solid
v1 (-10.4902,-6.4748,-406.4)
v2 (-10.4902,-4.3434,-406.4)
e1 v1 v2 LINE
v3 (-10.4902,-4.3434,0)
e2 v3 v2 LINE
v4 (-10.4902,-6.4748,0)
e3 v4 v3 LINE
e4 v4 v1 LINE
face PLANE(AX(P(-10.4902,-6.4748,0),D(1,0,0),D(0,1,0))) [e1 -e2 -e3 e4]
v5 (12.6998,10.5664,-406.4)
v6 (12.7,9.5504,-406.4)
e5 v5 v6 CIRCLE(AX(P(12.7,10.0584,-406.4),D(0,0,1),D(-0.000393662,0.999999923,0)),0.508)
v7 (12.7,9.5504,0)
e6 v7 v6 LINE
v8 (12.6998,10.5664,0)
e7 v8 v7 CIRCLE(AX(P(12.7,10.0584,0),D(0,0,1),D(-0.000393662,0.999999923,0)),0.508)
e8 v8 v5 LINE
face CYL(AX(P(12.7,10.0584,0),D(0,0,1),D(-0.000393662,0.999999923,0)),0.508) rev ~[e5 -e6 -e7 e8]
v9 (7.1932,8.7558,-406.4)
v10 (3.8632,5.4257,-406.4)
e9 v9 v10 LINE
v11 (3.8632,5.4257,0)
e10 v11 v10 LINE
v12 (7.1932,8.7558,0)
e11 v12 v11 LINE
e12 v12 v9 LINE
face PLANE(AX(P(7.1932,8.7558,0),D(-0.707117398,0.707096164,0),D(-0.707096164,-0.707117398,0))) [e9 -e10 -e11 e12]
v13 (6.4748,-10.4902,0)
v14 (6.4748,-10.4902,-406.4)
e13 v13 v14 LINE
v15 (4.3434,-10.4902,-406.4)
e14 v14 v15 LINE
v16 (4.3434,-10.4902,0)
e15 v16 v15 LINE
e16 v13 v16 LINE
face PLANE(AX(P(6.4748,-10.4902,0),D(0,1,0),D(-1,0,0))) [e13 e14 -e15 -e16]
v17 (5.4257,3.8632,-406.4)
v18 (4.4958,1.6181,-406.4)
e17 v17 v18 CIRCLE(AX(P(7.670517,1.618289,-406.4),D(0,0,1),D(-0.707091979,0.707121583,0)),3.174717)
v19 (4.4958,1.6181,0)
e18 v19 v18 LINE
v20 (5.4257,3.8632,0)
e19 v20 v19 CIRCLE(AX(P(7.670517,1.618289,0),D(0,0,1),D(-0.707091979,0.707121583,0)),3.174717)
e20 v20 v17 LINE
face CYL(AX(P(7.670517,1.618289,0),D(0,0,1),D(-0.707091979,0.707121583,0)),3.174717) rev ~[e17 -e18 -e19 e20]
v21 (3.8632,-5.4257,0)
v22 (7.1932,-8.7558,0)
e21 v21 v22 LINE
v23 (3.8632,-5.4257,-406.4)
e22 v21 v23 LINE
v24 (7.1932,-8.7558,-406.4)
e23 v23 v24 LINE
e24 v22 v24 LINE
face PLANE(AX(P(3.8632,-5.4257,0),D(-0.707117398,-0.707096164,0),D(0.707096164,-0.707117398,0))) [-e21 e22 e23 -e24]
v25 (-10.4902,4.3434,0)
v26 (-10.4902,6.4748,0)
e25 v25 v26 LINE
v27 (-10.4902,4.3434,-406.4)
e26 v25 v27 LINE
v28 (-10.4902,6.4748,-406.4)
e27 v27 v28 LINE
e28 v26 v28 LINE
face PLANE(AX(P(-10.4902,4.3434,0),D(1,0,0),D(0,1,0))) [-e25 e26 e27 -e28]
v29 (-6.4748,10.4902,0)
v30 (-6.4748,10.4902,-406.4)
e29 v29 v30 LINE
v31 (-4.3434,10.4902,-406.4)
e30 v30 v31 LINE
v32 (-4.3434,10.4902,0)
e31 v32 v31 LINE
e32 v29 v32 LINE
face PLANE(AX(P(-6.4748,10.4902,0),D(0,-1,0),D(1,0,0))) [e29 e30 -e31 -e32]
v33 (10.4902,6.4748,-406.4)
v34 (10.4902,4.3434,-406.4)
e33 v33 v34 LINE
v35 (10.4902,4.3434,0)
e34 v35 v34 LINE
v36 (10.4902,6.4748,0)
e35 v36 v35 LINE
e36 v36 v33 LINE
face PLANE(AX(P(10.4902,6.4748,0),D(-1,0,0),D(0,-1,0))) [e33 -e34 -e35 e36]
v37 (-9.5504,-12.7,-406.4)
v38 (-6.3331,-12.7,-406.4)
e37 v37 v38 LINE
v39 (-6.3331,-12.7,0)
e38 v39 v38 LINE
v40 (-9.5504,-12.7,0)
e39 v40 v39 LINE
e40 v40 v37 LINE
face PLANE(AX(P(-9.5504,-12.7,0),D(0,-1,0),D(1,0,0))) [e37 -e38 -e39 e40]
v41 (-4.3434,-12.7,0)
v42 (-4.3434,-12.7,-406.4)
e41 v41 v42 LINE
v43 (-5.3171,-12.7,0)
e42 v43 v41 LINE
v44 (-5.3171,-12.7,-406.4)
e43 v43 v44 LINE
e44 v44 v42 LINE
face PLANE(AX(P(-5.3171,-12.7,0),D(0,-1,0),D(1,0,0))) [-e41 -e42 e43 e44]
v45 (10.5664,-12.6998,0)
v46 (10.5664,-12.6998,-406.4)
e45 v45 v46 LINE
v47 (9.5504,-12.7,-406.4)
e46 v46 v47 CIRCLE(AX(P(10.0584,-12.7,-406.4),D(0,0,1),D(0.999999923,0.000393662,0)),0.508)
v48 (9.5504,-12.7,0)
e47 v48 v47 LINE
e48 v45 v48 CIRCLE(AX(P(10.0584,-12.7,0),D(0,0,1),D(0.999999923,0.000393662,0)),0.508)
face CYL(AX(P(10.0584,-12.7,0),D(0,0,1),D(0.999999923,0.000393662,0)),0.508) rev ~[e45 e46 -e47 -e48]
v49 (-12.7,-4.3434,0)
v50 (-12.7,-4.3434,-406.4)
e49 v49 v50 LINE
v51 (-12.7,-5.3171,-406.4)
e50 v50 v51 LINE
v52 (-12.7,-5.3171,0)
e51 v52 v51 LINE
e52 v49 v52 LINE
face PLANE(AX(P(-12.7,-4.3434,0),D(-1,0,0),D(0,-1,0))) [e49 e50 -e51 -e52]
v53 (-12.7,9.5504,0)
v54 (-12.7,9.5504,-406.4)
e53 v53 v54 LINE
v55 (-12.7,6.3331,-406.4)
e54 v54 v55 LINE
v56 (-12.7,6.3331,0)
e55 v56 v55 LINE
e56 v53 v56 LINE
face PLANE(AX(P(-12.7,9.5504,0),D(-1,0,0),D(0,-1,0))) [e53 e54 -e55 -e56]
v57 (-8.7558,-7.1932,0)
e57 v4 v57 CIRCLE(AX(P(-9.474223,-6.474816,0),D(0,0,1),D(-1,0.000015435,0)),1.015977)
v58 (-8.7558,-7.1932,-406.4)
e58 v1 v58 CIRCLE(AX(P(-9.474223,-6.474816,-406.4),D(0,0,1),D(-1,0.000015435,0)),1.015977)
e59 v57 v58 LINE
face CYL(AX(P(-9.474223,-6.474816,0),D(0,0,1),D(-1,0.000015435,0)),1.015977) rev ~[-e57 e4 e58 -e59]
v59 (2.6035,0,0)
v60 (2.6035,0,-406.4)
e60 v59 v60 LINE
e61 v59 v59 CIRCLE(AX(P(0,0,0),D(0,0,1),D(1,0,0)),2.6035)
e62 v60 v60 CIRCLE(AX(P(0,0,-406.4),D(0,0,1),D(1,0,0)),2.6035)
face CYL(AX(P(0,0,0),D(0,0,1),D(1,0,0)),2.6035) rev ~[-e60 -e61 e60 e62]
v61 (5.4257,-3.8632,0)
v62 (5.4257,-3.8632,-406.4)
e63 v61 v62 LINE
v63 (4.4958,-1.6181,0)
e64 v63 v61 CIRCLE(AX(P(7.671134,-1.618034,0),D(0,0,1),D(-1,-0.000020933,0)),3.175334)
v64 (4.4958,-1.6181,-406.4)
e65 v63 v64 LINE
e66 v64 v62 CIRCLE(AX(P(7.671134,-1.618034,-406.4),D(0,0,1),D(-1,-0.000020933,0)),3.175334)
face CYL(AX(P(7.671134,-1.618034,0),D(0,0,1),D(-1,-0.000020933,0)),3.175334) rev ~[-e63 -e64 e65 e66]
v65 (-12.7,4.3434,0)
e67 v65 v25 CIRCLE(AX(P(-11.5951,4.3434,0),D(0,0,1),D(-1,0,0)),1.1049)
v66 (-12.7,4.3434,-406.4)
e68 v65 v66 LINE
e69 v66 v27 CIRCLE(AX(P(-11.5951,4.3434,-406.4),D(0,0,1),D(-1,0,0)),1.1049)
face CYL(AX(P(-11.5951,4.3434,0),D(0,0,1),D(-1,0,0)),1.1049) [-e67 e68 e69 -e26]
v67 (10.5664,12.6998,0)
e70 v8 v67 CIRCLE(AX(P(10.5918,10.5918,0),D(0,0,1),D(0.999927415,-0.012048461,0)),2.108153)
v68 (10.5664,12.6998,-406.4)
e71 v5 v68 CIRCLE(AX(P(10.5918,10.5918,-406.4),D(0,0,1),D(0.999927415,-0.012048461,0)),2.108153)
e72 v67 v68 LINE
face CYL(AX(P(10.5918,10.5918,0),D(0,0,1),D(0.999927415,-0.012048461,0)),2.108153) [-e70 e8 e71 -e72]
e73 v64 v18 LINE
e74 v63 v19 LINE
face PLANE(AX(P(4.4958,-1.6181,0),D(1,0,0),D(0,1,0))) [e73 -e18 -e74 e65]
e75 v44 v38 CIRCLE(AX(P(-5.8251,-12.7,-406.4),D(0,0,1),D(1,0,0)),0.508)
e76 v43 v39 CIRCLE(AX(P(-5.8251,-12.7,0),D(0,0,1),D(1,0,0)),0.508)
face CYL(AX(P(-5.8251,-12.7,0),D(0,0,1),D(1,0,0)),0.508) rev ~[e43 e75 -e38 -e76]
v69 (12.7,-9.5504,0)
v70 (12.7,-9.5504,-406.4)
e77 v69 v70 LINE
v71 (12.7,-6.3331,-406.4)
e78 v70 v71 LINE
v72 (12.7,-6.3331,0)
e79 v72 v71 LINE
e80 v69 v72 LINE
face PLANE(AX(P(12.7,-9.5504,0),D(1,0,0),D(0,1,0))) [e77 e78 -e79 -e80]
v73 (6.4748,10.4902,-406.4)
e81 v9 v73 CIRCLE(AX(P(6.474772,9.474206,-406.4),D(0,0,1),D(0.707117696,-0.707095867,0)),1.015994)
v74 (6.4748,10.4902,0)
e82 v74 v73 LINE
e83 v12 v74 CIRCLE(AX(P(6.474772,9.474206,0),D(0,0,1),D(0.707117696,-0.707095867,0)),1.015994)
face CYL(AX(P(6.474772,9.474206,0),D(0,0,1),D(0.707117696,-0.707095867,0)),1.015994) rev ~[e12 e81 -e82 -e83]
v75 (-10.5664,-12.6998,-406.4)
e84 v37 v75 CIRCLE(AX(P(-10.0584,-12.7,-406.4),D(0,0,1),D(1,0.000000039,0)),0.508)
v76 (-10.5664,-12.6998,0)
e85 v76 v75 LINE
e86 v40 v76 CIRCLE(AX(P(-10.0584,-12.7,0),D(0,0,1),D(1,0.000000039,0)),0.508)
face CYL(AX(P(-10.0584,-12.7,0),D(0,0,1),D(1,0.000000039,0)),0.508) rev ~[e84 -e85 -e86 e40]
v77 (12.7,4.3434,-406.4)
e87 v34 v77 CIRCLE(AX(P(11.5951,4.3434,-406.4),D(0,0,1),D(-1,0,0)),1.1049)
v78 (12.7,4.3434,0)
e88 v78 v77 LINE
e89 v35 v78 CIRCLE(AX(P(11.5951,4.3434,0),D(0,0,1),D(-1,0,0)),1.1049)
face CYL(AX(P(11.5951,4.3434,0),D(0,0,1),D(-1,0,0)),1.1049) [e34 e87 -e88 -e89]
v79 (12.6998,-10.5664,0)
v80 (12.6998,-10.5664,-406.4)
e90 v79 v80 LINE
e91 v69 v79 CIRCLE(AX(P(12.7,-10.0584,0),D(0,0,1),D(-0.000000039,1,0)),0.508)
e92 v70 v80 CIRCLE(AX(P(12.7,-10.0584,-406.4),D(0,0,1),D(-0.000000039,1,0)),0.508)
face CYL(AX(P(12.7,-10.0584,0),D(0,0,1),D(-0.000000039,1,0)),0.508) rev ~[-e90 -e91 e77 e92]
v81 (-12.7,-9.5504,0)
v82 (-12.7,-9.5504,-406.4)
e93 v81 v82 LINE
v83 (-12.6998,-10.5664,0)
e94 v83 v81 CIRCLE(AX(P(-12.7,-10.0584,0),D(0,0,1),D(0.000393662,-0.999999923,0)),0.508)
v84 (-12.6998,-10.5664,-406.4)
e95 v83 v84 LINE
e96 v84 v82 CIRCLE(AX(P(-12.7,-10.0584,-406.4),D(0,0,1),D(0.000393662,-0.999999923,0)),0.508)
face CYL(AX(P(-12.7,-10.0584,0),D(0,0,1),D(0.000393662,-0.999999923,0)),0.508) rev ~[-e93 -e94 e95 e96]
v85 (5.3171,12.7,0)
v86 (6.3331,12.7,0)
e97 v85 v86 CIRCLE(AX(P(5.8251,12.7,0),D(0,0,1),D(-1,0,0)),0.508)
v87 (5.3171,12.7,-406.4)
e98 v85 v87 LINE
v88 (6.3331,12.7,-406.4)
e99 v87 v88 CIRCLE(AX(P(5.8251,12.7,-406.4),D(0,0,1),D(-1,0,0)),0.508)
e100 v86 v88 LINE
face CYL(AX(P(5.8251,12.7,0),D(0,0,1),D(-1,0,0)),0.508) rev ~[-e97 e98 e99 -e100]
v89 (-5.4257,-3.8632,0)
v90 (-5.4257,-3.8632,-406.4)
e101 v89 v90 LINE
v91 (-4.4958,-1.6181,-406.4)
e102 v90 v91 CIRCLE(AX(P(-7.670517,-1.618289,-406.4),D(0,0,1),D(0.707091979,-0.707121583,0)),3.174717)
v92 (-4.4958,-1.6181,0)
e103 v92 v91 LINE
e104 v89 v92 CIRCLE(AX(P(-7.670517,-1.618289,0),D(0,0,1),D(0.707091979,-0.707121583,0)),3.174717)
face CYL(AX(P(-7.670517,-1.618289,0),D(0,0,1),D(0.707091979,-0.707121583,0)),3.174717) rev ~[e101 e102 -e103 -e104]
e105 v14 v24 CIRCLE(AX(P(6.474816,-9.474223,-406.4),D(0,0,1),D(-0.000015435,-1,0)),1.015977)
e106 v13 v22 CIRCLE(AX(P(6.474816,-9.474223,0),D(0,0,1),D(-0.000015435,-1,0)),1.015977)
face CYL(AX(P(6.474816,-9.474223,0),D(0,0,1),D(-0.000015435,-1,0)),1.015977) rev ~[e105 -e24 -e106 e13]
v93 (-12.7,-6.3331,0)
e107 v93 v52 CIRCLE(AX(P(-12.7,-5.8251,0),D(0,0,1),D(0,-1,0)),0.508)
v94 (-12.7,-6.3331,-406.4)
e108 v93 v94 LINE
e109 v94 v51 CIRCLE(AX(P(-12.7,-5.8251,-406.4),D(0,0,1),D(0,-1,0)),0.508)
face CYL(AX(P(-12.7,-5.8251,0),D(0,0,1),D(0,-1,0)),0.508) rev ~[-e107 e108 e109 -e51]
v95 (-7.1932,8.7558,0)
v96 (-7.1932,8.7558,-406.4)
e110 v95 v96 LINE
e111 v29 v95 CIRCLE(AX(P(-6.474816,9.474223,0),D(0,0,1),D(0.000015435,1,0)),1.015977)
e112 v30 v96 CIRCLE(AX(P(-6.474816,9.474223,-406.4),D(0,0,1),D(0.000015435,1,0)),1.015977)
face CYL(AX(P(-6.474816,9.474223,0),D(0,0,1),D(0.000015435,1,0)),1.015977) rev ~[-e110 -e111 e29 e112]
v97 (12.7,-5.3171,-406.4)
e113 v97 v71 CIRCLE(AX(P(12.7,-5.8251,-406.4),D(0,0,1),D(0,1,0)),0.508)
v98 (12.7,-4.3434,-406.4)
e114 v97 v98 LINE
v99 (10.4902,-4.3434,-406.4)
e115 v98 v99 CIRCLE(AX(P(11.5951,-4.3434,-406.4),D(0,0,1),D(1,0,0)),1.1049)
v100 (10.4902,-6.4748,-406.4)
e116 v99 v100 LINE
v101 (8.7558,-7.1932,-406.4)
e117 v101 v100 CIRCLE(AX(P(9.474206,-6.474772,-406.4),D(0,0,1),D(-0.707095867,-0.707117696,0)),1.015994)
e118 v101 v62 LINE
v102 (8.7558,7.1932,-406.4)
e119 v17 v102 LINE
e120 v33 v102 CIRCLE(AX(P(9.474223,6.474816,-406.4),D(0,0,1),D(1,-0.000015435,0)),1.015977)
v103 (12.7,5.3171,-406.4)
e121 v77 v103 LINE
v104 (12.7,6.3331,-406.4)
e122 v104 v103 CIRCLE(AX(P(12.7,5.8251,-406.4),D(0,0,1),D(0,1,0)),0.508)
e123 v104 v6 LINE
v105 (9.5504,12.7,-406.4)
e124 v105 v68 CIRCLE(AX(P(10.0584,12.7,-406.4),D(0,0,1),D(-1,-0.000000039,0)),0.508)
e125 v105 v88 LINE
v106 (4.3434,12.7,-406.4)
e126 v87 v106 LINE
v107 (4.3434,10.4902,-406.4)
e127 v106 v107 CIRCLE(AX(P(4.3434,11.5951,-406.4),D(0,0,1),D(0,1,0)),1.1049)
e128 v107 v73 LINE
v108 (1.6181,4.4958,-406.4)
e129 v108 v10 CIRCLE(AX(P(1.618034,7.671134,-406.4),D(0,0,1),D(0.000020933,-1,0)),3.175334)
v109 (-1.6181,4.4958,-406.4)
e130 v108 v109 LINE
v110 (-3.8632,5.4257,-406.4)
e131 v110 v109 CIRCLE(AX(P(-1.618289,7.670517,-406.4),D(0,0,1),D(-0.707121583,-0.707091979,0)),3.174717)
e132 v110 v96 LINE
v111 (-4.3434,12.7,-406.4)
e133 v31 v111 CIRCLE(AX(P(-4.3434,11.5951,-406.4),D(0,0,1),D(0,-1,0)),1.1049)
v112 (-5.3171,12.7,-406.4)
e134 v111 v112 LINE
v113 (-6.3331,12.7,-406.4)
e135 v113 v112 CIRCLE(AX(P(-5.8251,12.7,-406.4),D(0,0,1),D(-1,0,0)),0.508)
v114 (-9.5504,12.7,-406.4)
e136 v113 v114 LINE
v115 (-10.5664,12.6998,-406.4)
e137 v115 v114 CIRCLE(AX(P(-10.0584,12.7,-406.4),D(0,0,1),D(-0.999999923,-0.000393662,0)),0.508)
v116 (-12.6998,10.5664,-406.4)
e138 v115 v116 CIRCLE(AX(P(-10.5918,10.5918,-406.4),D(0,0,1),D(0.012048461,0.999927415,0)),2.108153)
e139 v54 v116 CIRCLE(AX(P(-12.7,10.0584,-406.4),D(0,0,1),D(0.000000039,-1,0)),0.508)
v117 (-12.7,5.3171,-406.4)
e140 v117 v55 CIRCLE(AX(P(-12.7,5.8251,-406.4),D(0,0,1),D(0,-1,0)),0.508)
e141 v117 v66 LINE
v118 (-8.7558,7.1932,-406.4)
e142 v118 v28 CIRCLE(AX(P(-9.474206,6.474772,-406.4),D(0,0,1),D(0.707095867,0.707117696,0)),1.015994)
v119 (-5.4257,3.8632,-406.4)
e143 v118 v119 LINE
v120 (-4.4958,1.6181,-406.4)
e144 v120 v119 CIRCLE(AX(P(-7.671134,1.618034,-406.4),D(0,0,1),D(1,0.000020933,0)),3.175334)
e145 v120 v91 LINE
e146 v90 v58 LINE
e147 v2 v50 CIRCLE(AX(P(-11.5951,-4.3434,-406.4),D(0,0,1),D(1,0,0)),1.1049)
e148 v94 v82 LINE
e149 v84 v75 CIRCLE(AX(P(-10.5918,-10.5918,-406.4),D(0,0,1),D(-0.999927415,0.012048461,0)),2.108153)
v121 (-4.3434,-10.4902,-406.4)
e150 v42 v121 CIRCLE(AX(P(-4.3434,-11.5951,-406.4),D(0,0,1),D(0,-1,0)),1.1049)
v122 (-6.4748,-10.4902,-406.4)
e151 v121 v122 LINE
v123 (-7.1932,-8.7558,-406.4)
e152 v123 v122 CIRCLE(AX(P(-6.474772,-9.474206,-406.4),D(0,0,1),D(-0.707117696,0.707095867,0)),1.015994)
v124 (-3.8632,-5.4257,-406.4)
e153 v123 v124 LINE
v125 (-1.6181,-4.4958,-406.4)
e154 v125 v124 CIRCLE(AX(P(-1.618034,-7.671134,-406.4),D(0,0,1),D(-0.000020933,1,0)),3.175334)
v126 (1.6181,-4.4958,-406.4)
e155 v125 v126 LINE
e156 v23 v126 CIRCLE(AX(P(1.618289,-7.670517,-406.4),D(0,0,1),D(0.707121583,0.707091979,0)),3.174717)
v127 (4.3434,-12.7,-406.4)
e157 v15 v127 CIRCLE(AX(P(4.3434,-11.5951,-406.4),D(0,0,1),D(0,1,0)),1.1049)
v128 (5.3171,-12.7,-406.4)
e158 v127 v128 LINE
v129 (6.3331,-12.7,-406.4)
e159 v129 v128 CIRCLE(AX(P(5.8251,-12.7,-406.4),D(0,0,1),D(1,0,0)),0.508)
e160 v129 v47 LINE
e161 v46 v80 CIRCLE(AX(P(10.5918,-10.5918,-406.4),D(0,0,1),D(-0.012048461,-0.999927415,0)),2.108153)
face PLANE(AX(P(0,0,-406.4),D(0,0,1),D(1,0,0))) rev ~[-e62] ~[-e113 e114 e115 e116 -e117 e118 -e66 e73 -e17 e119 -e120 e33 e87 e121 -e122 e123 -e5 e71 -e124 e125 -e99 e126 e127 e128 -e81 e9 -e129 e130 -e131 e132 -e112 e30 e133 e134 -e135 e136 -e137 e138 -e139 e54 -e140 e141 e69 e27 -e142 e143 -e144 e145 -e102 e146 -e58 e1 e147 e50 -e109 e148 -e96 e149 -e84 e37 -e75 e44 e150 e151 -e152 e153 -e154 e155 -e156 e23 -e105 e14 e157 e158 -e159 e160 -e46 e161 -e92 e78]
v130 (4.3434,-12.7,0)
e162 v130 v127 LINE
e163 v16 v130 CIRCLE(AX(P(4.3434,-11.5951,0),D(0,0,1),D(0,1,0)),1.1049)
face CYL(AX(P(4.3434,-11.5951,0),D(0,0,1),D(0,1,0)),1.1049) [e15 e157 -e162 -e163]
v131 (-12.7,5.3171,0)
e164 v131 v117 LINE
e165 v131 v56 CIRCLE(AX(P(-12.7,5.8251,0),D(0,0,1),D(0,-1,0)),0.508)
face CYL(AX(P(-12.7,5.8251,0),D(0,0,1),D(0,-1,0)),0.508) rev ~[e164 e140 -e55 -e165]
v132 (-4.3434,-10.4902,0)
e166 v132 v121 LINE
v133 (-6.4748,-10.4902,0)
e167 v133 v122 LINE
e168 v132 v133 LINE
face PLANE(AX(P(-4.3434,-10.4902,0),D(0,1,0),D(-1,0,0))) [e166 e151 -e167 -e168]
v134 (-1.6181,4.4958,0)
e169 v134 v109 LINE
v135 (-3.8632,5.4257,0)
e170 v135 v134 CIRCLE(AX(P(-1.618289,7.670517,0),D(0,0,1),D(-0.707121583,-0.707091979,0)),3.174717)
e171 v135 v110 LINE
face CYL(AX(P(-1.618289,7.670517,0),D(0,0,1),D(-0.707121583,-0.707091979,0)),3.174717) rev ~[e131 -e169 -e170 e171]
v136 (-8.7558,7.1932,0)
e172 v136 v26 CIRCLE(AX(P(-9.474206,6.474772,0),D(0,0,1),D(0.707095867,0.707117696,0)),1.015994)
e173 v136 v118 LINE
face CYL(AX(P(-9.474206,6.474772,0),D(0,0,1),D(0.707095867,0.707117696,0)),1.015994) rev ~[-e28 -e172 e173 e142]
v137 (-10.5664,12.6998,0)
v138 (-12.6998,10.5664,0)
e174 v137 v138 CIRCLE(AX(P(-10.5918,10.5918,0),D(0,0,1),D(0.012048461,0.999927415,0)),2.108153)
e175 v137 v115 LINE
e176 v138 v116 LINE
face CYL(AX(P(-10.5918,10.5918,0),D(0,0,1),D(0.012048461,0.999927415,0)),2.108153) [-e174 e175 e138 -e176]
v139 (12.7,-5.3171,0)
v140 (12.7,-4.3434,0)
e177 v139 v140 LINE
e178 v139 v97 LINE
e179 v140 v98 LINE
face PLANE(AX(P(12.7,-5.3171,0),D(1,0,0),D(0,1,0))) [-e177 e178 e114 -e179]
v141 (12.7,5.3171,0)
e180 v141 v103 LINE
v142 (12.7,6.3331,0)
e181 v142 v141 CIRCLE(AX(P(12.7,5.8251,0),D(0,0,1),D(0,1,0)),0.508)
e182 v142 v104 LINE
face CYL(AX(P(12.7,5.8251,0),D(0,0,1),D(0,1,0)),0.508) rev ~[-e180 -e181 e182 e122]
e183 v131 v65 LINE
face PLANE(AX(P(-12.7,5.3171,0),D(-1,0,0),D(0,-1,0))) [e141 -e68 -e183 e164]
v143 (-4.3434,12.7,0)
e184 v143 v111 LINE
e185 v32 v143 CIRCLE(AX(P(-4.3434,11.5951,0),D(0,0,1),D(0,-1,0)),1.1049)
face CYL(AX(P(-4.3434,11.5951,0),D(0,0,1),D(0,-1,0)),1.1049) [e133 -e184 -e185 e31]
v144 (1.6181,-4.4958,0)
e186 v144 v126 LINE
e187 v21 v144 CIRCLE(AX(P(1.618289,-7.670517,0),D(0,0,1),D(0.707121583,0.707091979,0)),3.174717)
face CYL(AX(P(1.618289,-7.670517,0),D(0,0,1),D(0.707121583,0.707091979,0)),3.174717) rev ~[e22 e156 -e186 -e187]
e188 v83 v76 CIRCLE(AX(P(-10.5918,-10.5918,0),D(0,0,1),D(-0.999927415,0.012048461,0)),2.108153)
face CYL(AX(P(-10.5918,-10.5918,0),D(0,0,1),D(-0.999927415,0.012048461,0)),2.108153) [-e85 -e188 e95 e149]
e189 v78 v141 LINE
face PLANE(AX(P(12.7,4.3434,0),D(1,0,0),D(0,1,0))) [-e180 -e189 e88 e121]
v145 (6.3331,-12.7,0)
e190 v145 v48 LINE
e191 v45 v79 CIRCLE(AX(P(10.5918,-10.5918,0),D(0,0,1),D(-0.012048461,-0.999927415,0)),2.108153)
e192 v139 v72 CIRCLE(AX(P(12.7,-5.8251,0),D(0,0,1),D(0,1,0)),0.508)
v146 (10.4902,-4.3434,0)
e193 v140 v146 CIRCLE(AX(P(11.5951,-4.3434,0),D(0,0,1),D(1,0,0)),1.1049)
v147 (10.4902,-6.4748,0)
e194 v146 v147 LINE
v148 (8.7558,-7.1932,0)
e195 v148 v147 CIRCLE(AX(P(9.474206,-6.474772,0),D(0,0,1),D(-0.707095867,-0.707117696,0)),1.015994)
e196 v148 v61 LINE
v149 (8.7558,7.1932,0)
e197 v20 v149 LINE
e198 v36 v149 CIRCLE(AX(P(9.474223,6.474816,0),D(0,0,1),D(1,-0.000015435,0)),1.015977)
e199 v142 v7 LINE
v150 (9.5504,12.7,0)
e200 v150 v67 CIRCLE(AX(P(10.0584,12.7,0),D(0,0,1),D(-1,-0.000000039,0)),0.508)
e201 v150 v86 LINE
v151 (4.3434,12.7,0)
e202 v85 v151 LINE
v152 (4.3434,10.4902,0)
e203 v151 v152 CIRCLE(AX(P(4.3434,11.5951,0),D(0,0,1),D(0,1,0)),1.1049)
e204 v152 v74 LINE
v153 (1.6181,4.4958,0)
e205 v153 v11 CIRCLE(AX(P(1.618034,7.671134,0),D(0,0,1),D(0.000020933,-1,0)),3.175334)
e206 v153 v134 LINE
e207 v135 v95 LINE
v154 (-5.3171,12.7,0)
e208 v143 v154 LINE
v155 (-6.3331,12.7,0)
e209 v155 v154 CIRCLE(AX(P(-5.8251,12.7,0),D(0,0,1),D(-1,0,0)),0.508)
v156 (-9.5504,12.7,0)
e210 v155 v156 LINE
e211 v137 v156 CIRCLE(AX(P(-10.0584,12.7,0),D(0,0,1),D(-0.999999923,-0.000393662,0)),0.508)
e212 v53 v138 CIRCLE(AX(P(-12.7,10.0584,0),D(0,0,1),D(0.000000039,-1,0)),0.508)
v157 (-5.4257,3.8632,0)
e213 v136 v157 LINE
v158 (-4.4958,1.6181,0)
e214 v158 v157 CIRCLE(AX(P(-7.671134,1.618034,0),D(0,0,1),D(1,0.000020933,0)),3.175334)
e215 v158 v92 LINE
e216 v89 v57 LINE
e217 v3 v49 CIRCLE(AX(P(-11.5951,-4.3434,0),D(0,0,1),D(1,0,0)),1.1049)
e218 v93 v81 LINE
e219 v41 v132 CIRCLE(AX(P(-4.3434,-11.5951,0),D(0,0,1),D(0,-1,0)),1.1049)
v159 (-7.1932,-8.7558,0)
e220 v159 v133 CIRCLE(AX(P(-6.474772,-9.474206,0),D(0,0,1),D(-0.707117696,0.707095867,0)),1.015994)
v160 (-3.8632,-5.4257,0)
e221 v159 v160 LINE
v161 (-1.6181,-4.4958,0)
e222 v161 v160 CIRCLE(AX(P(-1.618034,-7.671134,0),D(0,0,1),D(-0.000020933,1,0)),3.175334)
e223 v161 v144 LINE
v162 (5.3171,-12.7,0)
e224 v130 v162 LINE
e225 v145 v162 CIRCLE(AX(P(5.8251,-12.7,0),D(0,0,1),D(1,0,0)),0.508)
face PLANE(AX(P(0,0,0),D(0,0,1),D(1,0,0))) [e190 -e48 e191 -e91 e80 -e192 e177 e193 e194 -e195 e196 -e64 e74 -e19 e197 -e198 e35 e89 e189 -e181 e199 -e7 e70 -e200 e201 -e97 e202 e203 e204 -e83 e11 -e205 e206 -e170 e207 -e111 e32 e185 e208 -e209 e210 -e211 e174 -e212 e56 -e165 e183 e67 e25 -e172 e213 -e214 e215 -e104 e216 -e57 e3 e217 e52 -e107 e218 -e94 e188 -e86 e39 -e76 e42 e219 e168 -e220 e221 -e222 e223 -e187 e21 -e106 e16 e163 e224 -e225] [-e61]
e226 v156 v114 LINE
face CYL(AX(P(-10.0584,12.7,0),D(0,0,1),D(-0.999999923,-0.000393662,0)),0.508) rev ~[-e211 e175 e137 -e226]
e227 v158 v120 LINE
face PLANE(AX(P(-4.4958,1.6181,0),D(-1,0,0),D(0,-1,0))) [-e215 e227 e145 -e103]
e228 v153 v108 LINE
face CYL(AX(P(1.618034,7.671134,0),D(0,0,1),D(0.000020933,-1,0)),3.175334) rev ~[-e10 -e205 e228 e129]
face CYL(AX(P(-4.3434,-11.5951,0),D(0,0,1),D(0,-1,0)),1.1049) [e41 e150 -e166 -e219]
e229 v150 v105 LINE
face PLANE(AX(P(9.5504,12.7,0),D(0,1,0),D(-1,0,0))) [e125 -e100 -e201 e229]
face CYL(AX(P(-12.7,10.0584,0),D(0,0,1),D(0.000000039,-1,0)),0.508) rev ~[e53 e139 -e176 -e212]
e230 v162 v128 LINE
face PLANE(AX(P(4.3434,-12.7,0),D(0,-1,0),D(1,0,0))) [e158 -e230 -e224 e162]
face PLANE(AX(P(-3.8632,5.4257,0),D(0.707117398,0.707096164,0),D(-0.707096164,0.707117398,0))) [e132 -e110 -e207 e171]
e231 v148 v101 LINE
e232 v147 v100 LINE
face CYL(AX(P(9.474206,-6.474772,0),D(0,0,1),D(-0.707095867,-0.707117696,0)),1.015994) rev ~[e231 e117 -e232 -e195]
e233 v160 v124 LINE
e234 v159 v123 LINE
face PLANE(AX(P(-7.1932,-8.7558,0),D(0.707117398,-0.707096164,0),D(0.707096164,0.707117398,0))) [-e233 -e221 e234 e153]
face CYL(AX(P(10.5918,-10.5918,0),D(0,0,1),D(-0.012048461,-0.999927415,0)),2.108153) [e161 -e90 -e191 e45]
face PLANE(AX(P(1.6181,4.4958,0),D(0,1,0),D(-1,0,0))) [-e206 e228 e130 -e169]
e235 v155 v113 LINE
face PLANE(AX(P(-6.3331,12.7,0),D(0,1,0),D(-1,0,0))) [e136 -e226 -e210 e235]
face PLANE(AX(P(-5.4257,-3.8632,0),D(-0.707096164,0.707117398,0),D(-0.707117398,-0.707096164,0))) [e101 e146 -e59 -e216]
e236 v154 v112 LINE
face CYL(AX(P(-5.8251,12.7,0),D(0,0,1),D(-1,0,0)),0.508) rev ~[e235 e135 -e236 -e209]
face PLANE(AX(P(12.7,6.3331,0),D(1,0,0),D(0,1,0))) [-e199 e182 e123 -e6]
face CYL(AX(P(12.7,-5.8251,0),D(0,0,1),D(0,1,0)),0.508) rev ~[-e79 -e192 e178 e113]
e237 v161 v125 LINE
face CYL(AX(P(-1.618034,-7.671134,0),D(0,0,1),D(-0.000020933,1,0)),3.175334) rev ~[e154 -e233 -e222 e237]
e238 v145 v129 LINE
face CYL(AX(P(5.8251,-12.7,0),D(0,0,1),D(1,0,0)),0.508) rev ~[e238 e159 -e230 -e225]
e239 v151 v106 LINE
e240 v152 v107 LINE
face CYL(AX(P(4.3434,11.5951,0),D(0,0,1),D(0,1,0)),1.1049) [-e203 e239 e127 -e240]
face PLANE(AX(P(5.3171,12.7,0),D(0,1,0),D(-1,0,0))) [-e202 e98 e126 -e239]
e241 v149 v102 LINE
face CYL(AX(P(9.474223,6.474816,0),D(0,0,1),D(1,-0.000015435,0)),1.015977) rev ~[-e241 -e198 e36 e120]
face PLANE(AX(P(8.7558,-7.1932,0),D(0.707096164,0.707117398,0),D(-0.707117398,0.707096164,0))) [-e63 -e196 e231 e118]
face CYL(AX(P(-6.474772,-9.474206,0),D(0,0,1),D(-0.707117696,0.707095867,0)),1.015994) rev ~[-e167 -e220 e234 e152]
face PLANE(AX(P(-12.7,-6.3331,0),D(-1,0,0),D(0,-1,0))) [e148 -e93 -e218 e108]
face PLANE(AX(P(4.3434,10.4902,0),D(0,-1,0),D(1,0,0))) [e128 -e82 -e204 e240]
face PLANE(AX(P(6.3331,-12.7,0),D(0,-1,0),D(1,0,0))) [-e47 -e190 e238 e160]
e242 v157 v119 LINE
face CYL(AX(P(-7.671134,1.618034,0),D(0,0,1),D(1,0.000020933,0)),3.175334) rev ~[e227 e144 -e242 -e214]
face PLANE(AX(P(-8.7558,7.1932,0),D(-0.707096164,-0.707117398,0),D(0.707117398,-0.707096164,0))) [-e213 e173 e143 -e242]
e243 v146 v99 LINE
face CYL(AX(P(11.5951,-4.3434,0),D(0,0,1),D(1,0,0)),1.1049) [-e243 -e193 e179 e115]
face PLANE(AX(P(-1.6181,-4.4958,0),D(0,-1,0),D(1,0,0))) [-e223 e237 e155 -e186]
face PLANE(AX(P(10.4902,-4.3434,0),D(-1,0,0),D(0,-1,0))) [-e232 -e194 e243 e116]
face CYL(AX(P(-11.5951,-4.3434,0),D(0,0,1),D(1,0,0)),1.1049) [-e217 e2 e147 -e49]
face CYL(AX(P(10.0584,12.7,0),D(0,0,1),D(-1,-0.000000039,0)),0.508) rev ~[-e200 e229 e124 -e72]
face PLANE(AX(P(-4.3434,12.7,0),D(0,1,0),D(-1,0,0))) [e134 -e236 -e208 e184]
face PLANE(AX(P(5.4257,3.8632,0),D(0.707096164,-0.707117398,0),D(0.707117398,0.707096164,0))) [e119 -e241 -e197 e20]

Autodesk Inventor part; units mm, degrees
ref_plane "YZ Plane" through (0, 0, 0) normal (1, 0, 0) x (0, 1, 0)
ref_plane "XZ Plane" through (0, 0, 0) normal (0, 1, 0) x (-1, 0, 0)
ref_plane "XY Plane" through (0, 0, 0) normal (0, 0, 1) x (1, 0, 0)
sketch "Sketch_1" plane through (0, 0, 0) normal (0, 0, 1) x (1, 0, 0)
  arc A0 (-12.6998, -10.5664) -> (-10.5664, -12.6998) centre (-10.5918, -10.5918) ccw
  arc A1 (-9.5504, -12.7) -> (-10.5664, -12.6998) centre (-10.0584, -12.7) ccw
  line L0 (-9.5504, -12.7) -> (-6.3331, -12.7)
  arc A2 (-5.3171, -12.7) -> (-6.3331, -12.7) centre (-5.8251, -12.7) ccw
  line L1 (-5.3171, -12.7) -> (-4.3434, -12.7)
  arc A3 (-4.3434, -12.7) -> (-4.3434, -10.4902) centre (-4.3434, -11.5951) ccw
  line L2 (-4.3434, -10.4902) -> (-6.4748, -10.4902)
  arc A4 (-7.1932, -8.7558) -> (-6.4748, -10.4902) centre (-6.4748, -9.4742) ccw
  line L3 (-7.1932, -8.7558) -> (-3.8632, -5.4257)
  arc A5 (-1.6181, -4.4958) -> (-3.8632, -5.4257) centre (-1.6181, -7.6708) ccw
  line L4 (-1.6181, -4.4958) -> (1.6181, -4.4958)
  arc A6 (3.8632, -5.4257) -> (1.6181, -4.4958) centre (1.6181, -7.6708) ccw
  line L5 (3.8632, -5.4257) -> (7.1932, -8.7558)
  arc A7 (6.4748, -10.4902) -> (7.1932, -8.7558) centre (6.4748, -9.4742) ccw
  line L6 (6.4748, -10.4902) -> (4.3434, -10.4902)
  arc A8 (4.3434, -10.4902) -> (4.3434, -12.7) centre (4.3434, -11.5951) ccw
  line L7 (4.3434, -12.7) -> (5.3171, -12.7)
  arc A9 (6.3331, -12.7) -> (5.3171, -12.7) centre (5.8251, -12.7) ccw
  line L8 (6.3331, -12.7) -> (9.5504, -12.7)
  arc A10 (10.5664, -12.6998) -> (9.5504, -12.7) centre (10.0584, -12.7) ccw
  arc A11 (10.5664, -12.6998) -> (12.6998, -10.5664) centre (10.5918, -10.5918) ccw
  arc A12 (12.7, -9.5504) -> (12.6998, -10.5664) centre (12.7, -10.0584) ccw
  line L9 (12.7, -9.5504) -> (12.7, -6.3331)
  arc A13 (12.7, -5.3171) -> (12.7, -6.3331) centre (12.7, -5.8251) ccw
  line L10 (12.7, -5.3171) -> (12.7, -4.3434)
  arc A14 (12.7, -4.3434) -> (10.4902, -4.3434) centre (11.5951, -4.3434) ccw
  line L11 (10.4902, -4.3434) -> (10.4902, -6.4748)
  arc A15 (8.7558, -7.1932) -> (10.4902, -6.4748) centre (9.4742, -6.4748) ccw
  line L12 (8.7558, -7.1932) -> (5.4257, -3.8632)
  arc A16 (4.4958, -1.6181) -> (5.4257, -3.8632) centre (7.6708, -1.6181) ccw
  line L13 (4.4958, -1.6181) -> (4.4958, 1.6181)
  arc A17 (5.4257, 3.8632) -> (4.4958, 1.6181) centre (7.6708, 1.6181) ccw
  line L14 (5.4257, 3.8632) -> (8.7558, 7.1932)
  arc A18 (10.4902, 6.4748) -> (8.7558, 7.1932) centre (9.4742, 6.4748) ccw
  line L15 (10.4902, 6.4748) -> (10.4902, 4.3434)
  arc A19 (10.4902, 4.3434) -> (12.7, 4.3434) centre (11.5951, 4.3434) ccw
  line L16 (12.7, 4.3434) -> (12.7, 5.3171)
  arc A20 (12.7, 6.3331) -> (12.7, 5.3171) centre (12.7, 5.8251) ccw
  line L17 (12.7, 6.3331) -> (12.7, 9.5504)
  arc A21 (12.6998, 10.5664) -> (12.7, 9.5504) centre (12.7, 10.0584) ccw
  arc A22 (12.6998, 10.5664) -> (10.5664, 12.6998) centre (10.5918, 10.5918) ccw
  arc A23 (9.5504, 12.7) -> (10.5664, 12.6998) centre (10.0584, 12.7) ccw
  line L18 (9.5504, 12.7) -> (6.3331, 12.7)
  arc A24 (5.3171, 12.7) -> (6.3331, 12.7) centre (5.8251, 12.7) ccw
  line L19 (5.3171, 12.7) -> (4.3434, 12.7)
  arc A25 (4.3434, 12.7) -> (4.3434, 10.4902) centre (4.3434, 11.5951) ccw
  line L20 (4.3434, 10.4902) -> (6.4748, 10.4902)
  arc A26 (7.1932, 8.7558) -> (6.4748, 10.4902) centre (6.4748, 9.4742) ccw
  line L21 (7.1932, 8.7558) -> (3.8632, 5.4257)
  arc A27 (1.6181, 4.4958) -> (3.8632, 5.4257) centre (1.6181, 7.6708) ccw
  line L22 (1.6181, 4.4958) -> (-1.6181, 4.4958)
  arc A28 (-3.8632, 5.4257) -> (-1.6181, 4.4958) centre (-1.6181, 7.6708) ccw
  line L23 (-3.8632, 5.4257) -> (-7.1932, 8.7558)
  arc A29 (-6.4748, 10.4902) -> (-7.1932, 8.7558) centre (-6.4748, 9.4742) ccw
  line L24 (-6.4748, 10.4902) -> (-4.3434, 10.4902)
  arc A30 (-4.3434, 10.4902) -> (-4.3434, 12.7) centre (-4.3434, 11.5951) ccw
  line L25 (-4.3434, 12.7) -> (-5.3171, 12.7)
  arc A31 (-6.3331, 12.7) -> (-5.3171, 12.7) centre (-5.8251, 12.7) ccw
  line L26 (-6.3331, 12.7) -> (-9.5504, 12.7)
  arc A32 (-10.5664, 12.6998) -> (-9.5504, 12.7) centre (-10.0584, 12.7) ccw
  arc A33 (-10.5664, 12.6998) -> (-12.6998, 10.5664) centre (-10.5918, 10.5918) ccw
  arc A34 (-12.7, 9.5504) -> (-12.6998, 10.5664) centre (-12.7, 10.0584) ccw
  line L27 (-12.7, 9.5504) -> (-12.7, 6.3331)
  arc A35 (-12.7, 5.3171) -> (-12.7, 6.3331) centre (-12.7, 5.8251) ccw
  line L28 (-12.7, 5.3171) -> (-12.7, 4.3434)
  arc A36 (-12.7, 4.3434) -> (-10.4902, 4.3434) centre (-11.5951, 4.3434) ccw
  line L29 (-10.4902, 4.3434) -> (-10.4902, 6.4748)
  arc A37 (-8.7558, 7.1932) -> (-10.4902, 6.4748) centre (-9.4742, 6.4748) ccw
  line L30 (-8.7558, 7.1932) -> (-5.4257, 3.8632)
  arc A38 (-4.4958, 1.6181) -> (-5.4257, 3.8632) centre (-7.6708, 1.6181) ccw
  line L31 (-4.4958, 1.6181) -> (-4.4958, -1.6181)
  arc A39 (-5.4257, -3.8632) -> (-4.4958, -1.6181) centre (-7.6708, -1.6181) ccw
  line L32 (-5.4257, -3.8632) -> (-8.7558, -7.1932)
  arc A40 (-10.4902, -6.4748) -> (-8.7558, -7.1932) centre (-9.4742, -6.4748) ccw
  line L33 (-10.4902, -6.4748) -> (-10.4902, -4.3434)
  arc A41 (-10.4902, -4.3434) -> (-12.7, -4.3434) centre (-11.5951, -4.3434) ccw
  line L34 (-12.7, -4.3434) -> (-12.7, -5.3171)
  arc A42 (-12.7, -6.3331) -> (-12.7, -5.3171) centre (-12.7, -5.8251) ccw
  line L35 (-12.7, -6.3331) -> (-12.7, -9.5504)
  arc A43 (-12.6998, -10.5664) -> (-12.7, -9.5504) centre (-12.7, -10.0584) ccw
  circle A44 centre (0, 0) radius 2.6035
extrude "Extrusion1" add sketch "Sketch_1" against normal blind 406.4
properties part number "1010-15-CL"
